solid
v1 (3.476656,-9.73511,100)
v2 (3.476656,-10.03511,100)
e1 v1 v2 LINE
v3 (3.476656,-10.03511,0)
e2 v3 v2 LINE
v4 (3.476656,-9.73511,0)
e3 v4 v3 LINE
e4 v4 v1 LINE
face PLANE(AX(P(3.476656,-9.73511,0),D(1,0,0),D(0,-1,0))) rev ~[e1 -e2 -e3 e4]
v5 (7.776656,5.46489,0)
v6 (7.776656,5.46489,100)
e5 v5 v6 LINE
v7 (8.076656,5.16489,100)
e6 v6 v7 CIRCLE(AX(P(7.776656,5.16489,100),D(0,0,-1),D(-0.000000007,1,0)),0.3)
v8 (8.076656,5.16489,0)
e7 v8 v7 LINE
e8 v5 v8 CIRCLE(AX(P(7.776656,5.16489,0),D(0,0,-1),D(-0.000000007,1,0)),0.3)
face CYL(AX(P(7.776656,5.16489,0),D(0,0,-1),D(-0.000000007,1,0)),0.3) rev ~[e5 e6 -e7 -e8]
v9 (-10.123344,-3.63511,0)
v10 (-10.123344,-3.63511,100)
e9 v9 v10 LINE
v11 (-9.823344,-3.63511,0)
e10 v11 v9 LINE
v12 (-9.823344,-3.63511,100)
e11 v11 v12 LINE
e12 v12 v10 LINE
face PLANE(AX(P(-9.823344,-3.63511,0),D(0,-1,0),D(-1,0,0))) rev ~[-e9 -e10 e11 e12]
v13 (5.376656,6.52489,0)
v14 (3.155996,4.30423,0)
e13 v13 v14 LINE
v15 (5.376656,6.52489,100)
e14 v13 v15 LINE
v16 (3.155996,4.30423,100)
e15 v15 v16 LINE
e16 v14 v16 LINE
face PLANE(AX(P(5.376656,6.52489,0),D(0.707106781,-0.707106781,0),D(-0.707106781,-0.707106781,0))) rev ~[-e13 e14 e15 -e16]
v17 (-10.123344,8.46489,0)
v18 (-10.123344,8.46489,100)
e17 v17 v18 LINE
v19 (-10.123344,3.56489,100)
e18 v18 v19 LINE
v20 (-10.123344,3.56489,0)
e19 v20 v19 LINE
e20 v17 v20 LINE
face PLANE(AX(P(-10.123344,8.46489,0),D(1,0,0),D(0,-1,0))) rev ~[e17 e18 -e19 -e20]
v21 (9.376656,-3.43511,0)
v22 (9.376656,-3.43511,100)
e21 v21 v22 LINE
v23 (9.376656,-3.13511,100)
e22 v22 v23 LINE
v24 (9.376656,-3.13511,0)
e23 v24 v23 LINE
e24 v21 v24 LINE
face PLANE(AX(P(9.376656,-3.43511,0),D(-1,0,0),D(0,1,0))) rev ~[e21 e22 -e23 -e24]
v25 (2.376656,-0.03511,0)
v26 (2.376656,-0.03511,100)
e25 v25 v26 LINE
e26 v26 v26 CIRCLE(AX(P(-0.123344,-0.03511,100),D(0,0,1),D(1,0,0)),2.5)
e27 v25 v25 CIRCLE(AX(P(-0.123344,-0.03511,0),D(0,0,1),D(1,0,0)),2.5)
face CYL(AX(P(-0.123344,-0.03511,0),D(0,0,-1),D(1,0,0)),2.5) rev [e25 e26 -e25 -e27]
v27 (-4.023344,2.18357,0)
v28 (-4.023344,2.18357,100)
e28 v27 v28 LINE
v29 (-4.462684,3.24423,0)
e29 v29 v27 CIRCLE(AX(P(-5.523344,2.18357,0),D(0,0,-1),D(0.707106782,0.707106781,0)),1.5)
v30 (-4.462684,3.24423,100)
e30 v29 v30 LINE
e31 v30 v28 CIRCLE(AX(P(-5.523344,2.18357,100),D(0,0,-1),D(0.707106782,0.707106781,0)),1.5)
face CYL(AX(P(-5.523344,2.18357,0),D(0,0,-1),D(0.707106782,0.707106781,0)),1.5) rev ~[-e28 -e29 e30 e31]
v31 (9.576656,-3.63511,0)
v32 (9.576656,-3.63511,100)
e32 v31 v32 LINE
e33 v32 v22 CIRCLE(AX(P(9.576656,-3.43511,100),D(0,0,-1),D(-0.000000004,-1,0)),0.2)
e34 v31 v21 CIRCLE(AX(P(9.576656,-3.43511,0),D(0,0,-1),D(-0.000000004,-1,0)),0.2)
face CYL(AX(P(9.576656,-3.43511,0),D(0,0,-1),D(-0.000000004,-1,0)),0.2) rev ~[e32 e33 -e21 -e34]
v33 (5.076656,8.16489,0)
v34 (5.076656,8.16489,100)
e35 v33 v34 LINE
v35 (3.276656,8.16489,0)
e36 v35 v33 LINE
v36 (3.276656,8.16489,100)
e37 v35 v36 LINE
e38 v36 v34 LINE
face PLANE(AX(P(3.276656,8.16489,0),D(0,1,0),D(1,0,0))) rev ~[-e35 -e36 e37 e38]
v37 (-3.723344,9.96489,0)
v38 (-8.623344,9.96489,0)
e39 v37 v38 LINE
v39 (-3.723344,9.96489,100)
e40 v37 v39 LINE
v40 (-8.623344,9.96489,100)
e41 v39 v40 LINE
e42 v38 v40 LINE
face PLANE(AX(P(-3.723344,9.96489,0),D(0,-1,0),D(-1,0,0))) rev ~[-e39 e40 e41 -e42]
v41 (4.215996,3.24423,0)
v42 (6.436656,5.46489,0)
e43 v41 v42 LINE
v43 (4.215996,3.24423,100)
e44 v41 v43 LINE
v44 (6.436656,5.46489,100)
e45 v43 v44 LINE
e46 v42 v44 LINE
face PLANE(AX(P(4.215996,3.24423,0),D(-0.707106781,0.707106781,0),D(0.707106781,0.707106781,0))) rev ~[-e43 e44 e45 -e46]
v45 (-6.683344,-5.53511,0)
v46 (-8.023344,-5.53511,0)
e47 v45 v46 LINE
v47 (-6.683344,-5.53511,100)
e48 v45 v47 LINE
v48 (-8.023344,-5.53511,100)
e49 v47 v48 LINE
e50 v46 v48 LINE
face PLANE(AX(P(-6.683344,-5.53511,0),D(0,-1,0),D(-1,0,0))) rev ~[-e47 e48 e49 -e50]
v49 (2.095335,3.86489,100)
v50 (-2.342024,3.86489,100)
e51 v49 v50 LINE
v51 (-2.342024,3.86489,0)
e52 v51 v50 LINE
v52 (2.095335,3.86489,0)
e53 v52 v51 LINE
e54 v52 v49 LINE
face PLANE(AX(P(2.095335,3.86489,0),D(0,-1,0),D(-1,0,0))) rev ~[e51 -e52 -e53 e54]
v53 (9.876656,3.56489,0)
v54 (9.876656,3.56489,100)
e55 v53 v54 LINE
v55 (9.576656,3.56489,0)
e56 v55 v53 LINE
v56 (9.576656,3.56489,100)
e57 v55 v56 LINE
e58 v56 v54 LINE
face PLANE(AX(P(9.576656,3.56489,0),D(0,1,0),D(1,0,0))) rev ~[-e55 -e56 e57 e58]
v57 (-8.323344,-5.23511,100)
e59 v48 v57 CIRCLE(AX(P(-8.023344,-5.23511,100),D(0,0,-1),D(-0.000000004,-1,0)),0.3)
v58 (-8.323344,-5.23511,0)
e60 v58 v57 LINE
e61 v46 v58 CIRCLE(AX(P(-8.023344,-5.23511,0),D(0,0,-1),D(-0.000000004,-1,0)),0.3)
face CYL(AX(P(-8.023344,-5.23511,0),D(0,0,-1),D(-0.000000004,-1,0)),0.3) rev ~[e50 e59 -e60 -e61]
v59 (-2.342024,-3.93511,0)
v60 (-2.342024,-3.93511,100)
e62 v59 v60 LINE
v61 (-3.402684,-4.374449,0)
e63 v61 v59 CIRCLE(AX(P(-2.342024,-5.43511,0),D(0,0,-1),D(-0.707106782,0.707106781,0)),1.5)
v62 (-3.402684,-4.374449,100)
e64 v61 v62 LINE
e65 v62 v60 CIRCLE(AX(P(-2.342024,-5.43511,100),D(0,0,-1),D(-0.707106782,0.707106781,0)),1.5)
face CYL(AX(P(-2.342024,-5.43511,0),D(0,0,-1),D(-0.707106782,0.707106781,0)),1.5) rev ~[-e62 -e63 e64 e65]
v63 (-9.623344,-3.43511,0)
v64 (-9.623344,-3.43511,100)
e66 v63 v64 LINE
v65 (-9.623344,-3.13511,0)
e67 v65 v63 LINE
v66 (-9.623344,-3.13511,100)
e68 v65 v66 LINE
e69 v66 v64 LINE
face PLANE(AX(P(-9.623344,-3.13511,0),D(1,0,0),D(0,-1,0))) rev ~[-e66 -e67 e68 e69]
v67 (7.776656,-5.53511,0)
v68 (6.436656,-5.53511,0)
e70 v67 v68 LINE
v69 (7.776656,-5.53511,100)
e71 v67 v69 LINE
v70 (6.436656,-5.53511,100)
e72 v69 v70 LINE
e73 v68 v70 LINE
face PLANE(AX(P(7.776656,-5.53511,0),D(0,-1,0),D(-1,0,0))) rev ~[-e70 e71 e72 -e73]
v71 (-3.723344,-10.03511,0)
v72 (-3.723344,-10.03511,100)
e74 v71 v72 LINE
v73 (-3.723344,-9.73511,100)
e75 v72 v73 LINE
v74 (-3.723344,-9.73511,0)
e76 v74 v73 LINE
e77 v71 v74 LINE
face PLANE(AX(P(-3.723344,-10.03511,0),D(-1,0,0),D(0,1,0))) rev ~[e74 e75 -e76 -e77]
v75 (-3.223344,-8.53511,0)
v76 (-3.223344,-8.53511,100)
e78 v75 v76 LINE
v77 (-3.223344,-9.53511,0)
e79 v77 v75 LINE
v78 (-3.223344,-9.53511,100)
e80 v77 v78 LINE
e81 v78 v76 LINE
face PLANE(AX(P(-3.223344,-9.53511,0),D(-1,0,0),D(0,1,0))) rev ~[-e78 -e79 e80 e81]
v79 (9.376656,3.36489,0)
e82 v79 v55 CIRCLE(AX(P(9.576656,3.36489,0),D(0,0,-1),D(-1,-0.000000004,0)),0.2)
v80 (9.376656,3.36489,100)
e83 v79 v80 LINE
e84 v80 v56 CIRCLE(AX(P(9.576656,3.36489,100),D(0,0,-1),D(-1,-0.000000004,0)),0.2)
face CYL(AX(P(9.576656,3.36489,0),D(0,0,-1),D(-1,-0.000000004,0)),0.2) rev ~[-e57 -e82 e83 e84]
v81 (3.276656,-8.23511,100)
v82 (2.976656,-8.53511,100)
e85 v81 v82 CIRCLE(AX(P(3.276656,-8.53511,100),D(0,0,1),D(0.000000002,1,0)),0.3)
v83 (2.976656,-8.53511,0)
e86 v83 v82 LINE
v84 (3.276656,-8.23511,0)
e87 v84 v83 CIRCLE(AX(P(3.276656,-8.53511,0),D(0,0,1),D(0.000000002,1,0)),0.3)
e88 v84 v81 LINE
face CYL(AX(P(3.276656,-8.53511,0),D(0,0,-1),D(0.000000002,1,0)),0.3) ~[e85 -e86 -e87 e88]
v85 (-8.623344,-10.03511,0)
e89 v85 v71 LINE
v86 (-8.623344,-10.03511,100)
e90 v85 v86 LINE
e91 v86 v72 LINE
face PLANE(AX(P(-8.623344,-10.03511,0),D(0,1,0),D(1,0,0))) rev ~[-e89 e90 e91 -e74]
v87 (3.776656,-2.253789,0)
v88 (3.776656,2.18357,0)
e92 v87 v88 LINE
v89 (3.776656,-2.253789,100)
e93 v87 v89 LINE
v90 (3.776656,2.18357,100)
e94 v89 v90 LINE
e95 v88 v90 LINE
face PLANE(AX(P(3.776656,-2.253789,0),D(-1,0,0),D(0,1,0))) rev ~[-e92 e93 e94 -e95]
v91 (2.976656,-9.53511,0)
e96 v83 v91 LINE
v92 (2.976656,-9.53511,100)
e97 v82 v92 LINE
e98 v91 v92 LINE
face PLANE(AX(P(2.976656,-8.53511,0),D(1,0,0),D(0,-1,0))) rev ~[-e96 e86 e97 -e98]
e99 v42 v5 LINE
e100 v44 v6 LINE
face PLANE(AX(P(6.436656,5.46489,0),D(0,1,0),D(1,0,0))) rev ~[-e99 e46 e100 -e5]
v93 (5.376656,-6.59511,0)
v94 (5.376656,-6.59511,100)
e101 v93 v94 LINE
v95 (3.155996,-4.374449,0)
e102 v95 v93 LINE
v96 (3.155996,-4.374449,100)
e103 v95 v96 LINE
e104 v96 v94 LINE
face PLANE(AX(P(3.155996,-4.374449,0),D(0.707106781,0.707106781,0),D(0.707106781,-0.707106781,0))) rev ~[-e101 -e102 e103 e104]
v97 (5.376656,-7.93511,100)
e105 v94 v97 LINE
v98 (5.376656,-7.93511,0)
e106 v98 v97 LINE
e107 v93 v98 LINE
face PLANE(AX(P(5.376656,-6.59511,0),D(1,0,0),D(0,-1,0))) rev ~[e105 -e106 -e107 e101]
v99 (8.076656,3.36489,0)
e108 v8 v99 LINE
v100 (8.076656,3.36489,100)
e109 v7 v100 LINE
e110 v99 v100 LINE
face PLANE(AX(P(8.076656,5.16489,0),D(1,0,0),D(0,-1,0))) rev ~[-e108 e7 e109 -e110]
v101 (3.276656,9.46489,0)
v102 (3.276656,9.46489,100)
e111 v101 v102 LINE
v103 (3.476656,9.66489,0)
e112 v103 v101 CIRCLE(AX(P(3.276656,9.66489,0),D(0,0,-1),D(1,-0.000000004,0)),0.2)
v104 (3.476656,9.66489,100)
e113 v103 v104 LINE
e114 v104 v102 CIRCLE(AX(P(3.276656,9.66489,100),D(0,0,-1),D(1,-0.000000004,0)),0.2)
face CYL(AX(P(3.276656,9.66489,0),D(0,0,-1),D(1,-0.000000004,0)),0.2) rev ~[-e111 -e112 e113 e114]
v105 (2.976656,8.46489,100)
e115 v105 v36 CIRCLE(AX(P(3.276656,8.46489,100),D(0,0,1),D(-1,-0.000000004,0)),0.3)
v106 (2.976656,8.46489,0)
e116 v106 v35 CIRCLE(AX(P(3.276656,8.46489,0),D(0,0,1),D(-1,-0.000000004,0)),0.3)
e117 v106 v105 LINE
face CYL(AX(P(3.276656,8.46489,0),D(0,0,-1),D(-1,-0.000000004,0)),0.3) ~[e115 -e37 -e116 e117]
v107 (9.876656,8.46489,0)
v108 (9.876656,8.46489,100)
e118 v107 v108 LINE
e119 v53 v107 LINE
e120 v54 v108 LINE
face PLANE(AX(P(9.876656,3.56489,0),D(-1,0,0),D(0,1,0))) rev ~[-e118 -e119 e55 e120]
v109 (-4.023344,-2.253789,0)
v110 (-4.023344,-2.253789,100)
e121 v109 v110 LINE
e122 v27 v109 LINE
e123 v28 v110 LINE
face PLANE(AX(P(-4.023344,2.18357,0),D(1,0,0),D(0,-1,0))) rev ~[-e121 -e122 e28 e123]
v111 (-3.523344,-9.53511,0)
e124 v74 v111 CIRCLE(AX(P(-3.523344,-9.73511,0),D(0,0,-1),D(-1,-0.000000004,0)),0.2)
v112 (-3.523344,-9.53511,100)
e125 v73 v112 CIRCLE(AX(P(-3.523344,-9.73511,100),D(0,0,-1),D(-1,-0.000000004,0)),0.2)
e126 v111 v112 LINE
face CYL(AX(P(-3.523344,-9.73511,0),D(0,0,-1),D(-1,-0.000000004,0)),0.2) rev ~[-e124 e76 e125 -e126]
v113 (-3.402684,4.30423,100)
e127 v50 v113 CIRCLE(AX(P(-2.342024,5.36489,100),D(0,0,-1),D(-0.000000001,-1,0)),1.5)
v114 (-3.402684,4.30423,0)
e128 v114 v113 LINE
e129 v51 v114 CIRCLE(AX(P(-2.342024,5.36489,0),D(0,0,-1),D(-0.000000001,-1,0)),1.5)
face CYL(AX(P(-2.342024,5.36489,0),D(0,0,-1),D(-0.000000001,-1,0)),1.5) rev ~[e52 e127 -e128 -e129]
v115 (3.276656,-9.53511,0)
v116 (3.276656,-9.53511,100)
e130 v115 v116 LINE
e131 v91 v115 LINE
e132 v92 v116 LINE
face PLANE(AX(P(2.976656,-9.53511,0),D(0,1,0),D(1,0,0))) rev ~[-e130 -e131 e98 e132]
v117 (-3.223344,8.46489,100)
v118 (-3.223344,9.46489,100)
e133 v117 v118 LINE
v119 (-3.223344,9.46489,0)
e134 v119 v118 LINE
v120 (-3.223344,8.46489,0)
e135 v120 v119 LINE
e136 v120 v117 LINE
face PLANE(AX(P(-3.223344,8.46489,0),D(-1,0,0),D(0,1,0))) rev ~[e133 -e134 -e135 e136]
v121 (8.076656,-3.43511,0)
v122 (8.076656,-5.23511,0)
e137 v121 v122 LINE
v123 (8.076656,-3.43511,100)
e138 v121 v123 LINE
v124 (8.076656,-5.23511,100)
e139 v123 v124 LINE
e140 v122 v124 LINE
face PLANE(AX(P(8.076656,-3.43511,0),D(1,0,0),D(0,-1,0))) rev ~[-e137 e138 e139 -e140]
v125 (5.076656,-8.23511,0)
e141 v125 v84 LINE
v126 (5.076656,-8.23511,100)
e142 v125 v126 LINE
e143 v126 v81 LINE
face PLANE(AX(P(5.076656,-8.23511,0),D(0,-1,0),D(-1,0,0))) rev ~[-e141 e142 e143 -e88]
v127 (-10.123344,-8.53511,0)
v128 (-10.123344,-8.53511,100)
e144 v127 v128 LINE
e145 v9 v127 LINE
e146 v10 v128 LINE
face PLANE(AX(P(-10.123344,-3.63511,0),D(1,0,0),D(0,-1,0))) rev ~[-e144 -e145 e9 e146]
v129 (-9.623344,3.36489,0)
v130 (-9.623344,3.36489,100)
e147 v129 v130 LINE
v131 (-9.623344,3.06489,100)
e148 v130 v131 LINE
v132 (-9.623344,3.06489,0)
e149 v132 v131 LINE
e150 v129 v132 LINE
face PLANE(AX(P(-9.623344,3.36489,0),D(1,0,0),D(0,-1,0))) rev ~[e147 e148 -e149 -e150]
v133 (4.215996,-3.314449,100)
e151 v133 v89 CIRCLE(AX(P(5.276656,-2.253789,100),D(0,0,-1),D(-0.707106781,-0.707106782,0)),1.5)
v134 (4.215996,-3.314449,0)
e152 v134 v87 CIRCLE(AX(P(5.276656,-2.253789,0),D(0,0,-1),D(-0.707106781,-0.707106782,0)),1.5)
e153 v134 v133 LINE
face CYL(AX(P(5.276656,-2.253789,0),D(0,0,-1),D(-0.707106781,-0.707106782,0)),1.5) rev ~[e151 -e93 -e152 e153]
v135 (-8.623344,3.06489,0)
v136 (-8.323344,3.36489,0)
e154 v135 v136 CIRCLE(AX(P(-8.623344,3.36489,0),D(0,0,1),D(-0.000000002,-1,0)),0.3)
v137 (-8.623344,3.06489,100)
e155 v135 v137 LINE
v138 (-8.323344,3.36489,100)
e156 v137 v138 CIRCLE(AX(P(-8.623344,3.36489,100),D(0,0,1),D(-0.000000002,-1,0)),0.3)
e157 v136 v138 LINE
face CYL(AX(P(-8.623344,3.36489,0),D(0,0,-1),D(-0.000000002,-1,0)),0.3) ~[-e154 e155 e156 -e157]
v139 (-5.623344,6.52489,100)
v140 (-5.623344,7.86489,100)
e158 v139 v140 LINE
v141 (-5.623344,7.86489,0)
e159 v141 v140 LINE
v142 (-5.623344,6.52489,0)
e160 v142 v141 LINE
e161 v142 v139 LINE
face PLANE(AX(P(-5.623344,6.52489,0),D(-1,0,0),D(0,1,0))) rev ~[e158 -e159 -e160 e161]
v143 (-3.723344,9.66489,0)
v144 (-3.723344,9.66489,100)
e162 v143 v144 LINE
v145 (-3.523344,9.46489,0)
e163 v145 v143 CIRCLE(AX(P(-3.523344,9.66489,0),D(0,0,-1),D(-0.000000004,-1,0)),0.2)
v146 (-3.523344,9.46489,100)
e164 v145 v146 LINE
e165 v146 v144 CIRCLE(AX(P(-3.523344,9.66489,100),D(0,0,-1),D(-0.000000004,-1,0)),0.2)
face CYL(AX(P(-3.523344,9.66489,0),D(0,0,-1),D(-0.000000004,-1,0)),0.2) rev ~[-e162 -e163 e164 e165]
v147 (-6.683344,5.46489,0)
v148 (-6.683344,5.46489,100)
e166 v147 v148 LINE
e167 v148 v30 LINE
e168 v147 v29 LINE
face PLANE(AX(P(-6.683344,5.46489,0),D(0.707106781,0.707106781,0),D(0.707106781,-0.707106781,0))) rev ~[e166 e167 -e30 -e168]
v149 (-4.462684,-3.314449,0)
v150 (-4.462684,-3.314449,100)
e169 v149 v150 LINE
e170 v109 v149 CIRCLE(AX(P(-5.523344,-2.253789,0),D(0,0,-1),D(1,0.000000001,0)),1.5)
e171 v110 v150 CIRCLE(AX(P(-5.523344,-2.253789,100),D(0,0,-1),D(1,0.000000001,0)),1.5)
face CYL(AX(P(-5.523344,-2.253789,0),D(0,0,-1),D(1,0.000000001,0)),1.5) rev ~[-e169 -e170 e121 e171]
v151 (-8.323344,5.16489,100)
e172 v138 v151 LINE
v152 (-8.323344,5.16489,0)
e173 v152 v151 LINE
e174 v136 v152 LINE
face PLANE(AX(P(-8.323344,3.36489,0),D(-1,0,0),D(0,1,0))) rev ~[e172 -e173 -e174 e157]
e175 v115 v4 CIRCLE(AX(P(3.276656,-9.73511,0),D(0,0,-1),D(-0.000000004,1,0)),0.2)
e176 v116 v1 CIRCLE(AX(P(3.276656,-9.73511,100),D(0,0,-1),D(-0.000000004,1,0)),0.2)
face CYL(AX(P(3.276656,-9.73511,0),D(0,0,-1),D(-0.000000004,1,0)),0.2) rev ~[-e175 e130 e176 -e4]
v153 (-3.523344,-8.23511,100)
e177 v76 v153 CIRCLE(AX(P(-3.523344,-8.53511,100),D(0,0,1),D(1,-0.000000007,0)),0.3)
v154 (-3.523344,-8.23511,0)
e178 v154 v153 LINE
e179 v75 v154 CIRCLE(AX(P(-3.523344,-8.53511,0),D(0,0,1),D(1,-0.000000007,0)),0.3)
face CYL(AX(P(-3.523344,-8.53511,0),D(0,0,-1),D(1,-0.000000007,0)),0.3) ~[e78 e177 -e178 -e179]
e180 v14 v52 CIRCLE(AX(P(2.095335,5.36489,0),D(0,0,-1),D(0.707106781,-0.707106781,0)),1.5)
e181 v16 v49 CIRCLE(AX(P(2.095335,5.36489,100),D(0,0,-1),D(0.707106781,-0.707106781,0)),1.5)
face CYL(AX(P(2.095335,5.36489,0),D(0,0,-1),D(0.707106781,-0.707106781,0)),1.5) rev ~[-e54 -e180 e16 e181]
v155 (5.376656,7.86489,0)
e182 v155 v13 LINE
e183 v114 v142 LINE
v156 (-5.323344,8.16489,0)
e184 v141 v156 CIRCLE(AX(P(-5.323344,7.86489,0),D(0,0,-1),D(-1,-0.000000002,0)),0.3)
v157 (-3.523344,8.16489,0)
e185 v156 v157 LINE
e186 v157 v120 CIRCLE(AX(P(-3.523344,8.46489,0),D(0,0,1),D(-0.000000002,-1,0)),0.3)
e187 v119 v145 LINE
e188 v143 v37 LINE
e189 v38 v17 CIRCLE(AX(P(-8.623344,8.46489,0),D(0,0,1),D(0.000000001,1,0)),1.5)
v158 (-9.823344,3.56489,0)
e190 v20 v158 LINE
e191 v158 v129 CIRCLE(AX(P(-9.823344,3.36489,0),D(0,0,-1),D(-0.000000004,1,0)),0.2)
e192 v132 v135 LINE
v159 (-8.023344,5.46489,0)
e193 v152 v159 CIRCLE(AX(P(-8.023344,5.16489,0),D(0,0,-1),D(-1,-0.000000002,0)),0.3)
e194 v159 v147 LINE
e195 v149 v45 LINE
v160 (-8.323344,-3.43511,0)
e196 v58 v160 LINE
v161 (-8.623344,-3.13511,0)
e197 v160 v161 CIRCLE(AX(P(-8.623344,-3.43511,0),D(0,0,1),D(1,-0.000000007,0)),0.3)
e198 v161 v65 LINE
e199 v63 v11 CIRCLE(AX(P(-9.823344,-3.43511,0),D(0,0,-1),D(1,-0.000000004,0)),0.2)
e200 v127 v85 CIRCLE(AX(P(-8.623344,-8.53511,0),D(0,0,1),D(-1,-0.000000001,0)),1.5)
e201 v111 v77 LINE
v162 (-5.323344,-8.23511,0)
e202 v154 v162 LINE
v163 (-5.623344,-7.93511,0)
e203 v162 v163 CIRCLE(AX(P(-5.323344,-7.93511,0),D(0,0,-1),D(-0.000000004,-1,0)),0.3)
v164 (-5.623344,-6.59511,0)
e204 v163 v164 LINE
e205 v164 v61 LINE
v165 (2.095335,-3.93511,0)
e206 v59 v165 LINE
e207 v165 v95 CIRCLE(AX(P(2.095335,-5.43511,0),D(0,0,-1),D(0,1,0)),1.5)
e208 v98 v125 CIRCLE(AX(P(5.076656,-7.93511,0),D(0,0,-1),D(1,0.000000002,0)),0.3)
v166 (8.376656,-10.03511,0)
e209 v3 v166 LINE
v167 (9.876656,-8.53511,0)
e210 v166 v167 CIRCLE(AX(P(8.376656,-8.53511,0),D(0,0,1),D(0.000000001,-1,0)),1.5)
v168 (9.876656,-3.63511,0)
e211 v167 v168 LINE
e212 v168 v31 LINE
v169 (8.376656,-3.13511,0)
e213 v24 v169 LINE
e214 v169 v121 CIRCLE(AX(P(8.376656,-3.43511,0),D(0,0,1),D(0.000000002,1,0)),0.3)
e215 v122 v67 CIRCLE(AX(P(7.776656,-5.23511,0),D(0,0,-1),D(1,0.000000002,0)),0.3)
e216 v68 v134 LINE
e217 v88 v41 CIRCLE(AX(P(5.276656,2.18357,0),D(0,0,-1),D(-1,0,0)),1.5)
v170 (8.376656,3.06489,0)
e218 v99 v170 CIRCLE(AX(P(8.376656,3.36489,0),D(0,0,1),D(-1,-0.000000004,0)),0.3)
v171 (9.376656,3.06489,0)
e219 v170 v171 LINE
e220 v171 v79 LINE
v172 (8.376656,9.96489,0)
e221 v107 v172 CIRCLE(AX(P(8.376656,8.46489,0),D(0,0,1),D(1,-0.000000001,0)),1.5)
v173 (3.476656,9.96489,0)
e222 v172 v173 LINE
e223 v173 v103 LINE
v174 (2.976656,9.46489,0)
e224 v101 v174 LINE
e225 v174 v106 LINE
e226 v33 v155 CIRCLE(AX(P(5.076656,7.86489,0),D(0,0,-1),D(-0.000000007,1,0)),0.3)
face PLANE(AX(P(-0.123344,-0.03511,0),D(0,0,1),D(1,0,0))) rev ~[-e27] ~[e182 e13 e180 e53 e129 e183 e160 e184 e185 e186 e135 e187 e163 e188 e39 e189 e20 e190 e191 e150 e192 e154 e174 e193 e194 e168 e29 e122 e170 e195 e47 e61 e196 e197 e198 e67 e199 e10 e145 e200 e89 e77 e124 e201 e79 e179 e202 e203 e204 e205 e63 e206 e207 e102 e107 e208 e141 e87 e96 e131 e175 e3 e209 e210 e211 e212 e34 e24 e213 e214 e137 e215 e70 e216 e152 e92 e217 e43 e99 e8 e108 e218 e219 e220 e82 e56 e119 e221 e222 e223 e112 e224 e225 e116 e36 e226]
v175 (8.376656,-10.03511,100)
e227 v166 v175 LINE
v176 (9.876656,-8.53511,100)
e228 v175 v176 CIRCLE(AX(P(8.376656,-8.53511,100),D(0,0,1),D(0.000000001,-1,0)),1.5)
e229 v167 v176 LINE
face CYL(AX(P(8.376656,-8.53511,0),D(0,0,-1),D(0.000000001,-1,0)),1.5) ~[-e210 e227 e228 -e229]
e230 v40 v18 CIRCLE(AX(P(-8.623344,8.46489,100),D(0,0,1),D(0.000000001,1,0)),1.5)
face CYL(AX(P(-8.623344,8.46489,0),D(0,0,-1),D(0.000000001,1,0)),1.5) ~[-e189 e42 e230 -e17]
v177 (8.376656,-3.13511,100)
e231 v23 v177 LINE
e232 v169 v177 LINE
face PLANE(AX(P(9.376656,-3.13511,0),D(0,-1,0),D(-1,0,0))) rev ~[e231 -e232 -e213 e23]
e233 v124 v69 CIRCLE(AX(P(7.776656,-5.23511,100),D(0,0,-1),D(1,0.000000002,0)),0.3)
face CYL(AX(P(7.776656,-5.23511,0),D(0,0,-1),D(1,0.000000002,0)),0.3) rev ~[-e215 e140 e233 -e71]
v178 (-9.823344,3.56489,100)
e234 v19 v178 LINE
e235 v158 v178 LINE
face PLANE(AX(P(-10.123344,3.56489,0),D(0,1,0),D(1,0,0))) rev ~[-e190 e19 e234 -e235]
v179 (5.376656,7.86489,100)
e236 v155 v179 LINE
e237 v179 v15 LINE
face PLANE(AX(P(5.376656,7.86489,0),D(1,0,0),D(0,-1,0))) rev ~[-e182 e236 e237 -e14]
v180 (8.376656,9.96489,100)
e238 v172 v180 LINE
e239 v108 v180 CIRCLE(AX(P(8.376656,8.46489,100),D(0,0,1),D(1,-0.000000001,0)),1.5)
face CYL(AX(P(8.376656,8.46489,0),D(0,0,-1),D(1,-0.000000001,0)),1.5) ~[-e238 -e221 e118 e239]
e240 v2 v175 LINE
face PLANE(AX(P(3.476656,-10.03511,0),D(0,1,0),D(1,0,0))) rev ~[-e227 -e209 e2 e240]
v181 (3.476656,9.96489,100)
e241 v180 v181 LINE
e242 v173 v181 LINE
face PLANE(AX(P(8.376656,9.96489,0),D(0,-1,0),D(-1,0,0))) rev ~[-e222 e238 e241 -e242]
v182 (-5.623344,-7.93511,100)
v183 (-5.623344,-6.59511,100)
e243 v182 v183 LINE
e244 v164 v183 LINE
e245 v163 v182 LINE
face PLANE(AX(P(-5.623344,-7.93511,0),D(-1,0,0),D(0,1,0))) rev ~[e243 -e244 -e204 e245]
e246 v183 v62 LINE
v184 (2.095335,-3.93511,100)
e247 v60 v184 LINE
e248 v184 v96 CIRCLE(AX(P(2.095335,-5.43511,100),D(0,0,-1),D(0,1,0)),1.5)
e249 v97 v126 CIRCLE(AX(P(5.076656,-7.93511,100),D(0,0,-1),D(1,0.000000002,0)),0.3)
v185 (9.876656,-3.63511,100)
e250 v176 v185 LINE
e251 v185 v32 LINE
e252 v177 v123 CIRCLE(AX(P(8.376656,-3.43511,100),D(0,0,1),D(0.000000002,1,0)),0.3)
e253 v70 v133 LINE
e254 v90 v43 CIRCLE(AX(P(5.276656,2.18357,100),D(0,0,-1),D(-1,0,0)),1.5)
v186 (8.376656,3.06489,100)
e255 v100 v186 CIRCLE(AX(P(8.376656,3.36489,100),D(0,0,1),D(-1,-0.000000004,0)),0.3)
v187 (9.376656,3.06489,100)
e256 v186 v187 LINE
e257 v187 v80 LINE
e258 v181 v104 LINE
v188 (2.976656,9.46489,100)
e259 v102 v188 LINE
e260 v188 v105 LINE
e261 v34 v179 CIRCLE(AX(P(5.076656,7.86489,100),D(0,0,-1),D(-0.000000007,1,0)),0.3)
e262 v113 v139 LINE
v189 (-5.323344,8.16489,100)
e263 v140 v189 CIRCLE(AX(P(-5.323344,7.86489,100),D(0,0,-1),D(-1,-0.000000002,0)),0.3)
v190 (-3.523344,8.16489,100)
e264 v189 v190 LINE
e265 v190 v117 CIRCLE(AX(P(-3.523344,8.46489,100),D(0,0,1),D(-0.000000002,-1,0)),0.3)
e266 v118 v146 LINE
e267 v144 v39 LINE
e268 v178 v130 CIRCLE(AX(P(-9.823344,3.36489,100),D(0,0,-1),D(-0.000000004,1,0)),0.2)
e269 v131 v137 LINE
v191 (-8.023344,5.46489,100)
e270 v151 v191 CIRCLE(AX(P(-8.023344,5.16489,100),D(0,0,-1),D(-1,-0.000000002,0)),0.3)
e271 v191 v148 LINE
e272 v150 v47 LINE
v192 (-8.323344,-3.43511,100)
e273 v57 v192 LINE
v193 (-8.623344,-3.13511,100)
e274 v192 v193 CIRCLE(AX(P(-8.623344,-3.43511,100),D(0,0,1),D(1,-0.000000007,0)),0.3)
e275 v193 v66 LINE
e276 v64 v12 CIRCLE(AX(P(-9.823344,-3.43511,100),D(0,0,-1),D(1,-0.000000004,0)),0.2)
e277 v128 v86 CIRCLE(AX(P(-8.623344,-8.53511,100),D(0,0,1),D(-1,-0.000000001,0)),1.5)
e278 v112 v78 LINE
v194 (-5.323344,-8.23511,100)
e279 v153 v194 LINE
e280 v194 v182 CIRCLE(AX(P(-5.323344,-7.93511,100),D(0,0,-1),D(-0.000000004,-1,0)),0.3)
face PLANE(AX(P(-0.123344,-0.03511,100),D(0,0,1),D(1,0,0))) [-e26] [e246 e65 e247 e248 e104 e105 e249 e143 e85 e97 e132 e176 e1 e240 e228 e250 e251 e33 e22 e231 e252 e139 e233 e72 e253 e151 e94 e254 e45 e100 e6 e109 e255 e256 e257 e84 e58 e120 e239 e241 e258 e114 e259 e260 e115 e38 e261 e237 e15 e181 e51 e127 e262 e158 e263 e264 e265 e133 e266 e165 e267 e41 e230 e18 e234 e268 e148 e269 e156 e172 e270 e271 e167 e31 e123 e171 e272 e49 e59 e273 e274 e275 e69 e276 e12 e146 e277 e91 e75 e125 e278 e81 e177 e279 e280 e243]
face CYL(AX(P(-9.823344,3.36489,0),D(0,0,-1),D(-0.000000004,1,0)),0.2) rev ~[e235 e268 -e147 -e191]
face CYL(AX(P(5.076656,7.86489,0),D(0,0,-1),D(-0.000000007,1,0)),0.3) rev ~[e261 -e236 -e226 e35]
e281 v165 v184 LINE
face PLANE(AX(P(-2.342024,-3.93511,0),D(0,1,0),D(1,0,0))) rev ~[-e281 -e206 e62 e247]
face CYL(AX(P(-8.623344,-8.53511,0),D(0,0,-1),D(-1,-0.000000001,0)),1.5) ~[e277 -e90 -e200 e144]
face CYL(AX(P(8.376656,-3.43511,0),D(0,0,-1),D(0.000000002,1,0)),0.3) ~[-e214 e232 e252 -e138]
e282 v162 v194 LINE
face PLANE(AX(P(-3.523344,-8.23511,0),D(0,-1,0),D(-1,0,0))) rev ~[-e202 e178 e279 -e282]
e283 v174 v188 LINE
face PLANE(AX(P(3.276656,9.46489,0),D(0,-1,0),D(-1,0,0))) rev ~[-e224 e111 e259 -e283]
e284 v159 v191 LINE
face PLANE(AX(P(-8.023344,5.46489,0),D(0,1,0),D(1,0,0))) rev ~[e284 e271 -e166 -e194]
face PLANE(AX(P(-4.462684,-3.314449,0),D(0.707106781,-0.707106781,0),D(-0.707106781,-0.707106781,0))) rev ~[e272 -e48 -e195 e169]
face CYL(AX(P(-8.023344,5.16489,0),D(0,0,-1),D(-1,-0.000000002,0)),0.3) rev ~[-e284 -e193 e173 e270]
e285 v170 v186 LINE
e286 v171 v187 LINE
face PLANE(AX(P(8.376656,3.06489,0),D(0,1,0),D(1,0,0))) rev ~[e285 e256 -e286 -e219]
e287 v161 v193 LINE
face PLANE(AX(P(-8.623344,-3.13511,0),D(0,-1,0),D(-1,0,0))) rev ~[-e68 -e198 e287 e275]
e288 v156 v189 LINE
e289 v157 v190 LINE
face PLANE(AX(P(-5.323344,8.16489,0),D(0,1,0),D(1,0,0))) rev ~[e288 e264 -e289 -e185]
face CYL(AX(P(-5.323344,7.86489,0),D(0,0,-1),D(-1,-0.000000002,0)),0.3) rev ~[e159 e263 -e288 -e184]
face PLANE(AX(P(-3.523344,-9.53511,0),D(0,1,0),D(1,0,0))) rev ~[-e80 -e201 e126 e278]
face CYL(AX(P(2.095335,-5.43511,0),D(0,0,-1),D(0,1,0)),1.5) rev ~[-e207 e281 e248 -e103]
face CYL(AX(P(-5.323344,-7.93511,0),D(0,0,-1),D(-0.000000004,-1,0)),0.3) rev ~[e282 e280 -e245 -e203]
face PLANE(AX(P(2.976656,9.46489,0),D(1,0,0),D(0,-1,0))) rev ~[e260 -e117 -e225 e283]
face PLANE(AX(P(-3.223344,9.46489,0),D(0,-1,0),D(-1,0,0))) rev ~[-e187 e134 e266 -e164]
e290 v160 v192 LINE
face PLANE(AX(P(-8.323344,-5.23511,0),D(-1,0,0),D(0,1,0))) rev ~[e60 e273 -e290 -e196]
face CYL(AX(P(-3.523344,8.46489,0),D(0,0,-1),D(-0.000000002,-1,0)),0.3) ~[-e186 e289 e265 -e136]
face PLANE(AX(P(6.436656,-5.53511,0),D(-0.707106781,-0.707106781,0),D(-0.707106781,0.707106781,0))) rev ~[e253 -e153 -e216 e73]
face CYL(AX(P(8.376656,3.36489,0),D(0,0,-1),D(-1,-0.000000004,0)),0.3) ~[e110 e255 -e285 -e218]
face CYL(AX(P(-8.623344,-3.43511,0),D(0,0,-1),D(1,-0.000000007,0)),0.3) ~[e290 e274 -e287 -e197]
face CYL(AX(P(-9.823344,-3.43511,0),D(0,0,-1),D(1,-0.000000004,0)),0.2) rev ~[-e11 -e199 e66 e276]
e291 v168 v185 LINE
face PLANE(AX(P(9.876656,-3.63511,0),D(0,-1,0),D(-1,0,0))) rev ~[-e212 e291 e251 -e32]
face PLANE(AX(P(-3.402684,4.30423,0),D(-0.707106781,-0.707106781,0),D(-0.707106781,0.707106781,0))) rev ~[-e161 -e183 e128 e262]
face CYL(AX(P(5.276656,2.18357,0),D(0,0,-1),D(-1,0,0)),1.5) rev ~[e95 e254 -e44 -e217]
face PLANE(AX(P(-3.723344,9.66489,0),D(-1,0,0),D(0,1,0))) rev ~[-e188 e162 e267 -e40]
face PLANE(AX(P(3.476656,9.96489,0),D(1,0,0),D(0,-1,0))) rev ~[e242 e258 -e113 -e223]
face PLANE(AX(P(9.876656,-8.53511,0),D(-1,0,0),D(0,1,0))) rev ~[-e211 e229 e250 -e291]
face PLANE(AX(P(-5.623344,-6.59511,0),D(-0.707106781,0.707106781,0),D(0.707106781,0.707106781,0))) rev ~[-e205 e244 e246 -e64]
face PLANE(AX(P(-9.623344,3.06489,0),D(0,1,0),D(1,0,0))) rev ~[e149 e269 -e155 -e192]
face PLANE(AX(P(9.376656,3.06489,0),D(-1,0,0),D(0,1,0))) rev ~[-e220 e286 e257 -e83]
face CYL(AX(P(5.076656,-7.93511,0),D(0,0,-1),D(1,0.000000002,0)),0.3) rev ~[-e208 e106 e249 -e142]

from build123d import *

# Parameters (mm, degrees)
SKETCH_1_R      = 2.5
EXTRUDE_1_DEPTH = 100


with BuildPart() as part:
    # 草图1 → 凸台-拉伸1 (new body)
    with BuildSketch(Plane.XY):
        with BuildLine():
            Line((4.215995631, 3.244230202), (6.436655803, 5.464890373))
            Line((6.436655803, 5.464890373), (7.776655803, 5.464890373))
            ThreePointArc((7.776655803, 5.464890373), (7.988787838, 5.377022408), (8.076655803, 5.164890373))
            Line((8.076655803, 5.164890373), (8.076655803, 3.364890373))
            ThreePointArc((8.076655803, 3.364890373), (8.164523769, 3.152758339), (8.376655803, 3.064890373))
            Line((8.376655803, 3.064890373), (9.376655803, 3.064890373))
            Line((9.376655803, 3.064890373), (9.376655803, 3.364890373))
            ThreePointArc((9.376655803, 3.364890373), (9.435234447, 3.50631173), (9.576655803, 3.564890373))
            Line((9.576655803, 3.564890373), (9.876655803, 3.564890373))
            Line((9.876655803, 3.564890373), (9.876655803, 8.464890373))
            ThreePointArc((9.876655803, 8.464890373), (9.437315975, 9.525550545), (8.376655803, 9.964890373))
            Line((8.376655803, 9.964890373), (3.476655803, 9.964890373))
            Line((3.476655803, 9.964890373), (3.476655803, 9.664890373))
            ThreePointArc((3.476655803, 9.664890373), (3.418077159, 9.523469017), (3.276655803, 9.464890373))
            Line((3.276655803, 9.464890373), (2.976655803, 9.464890373))
            Line((2.976655803, 9.464890373), (2.976655803, 8.464890373))
            ThreePointArc((2.976655803, 8.464890373), (3.064523769, 8.252758339), (3.276655803, 8.164890373))
            Line((3.276655803, 8.164890373), (5.076655803, 8.164890373))
            ThreePointArc((5.076655803, 8.164890373), (5.288787838, 8.077022408), (5.376655803, 7.864890373))
            Line((5.376655803, 7.864890373), (5.376655803, 6.524890373))
            Line((5.376655803, 6.524890373), (3.155995631, 4.304230202))
            ThreePointArc((3.155995631, 4.304230202), (2.669360608, 3.979071075), (2.09533546, 3.864890373))
            Line((2.09533546, 3.864890373), (-2.342023853, 3.864890373))
            ThreePointArc((-2.342023853, 3.864890373), (-2.916049002, 3.979071075), (-3.402684025, 4.304230202))
            Line((-3.402684025, 4.304230202), (-5.623344197, 6.524890373))
            Line((-5.623344197, 6.524890373), (-5.623344197, 7.864890373))
            ThreePointArc((-5.623344197, 7.864890373), (-5.535476231, 8.077022408), (-5.323344197, 8.164890373))
            Line((-5.323344197, 8.164890373), (-3.523344197, 8.164890373))
            ThreePointArc((-3.523344197, 8.164890373), (-3.311212162, 8.252758339), (-3.223344197, 8.464890373))
            Line((-3.223344197, 8.464890373), (-3.223344197, 9.464890373))
            Line((-3.223344197, 9.464890373), (-3.523344197, 9.464890373))
            ThreePointArc((-3.523344197, 9.464890373), (-3.664765553, 9.523469017), (-3.723344197, 9.664890373))
            Line((-3.723344197, 9.664890373), (-3.723344197, 9.964890373))
            Line((-3.723344197, 9.964890373), (-8.623344197, 9.964890373))
            ThreePointArc((-8.623344197, 9.964890373), (-9.684004369, 9.525550545), (-10.123344197, 8.464890373))
            Line((-10.123344197, 8.464890373), (-10.123344197, 3.564890373))
            Line((-10.123344197, 3.564890373), (-9.823344197, 3.564890373))
            ThreePointArc((-9.823344197, 3.564890373), (-9.681922841, 3.50631173), (-9.623344197, 3.364890373))
            Line((-9.623344197, 3.364890373), (-9.623344197, 3.064890373))
            Line((-9.623344197, 3.064890373), (-8.623344197, 3.064890373))
            ThreePointArc((-8.623344197, 3.064890373), (-8.411212162, 3.152758339), (-8.323344197, 3.364890373))
            Line((-8.323344197, 3.364890373), (-8.323344197, 5.164890373))
            ThreePointArc((-8.323344197, 5.164890373), (-8.235476231, 5.377022408), (-8.023344197, 5.464890373))
            Line((-8.023344197, 5.464890373), (-6.683344197, 5.464890373))
            Line((-6.683344197, 5.464890373), (-4.462684025, 3.244230202))
            ThreePointArc((-4.462684025, 3.244230202), (-4.137524898, 2.757595178), (-4.023344197, 2.18357003))
            Line((-4.023344197, 2.18357003), (-4.023344197, -2.253789283))
            ThreePointArc((-4.023344197, -2.253789283), (-4.137524898, -2.827814432), (-4.462684025, -3.314449455))
            Line((-4.462684025, -3.314449455), (-6.683344197, -5.535109627))
            Line((-6.683344197, -5.535109627), (-8.023344197, -5.535109627))
            ThreePointArc((-8.023344197, -5.535109627), (-8.235476231, -5.447241661), (-8.323344197, -5.235109627))
            Line((-8.323344197, -5.235109627), (-8.323344197, -3.435109627))
            ThreePointArc((-8.323344197, -3.435109627), (-8.411212162, -3.222977592), (-8.623344197, -3.135109627))
            Line((-8.623344197, -3.135109627), (-9.623344197, -3.135109627))
            Line((-9.623344197, -3.135109627), (-9.623344197, -3.435109627))
            ThreePointArc((-9.623344197, -3.435109627), (-9.681922841, -3.576530983), (-9.823344197, -3.635109627))
            Line((-9.823344197, -3.635109627), (-10.123344197, -3.635109627))
            Line((-10.123344197, -3.635109627), (-10.123344197, -8.535109627))
            ThreePointArc((-10.123344197, -8.535109627), (-9.684004369, -9.595769798), (-8.623344197, -10.035109627))
            Line((-8.623344197, -10.035109627), (-3.723344197, -10.035109627))
            Line((-3.723344197, -10.035109627), (-3.723344197, -9.735109627))
            ThreePointArc((-3.723344197, -9.735109627), (-3.664765553, -9.59368827), (-3.523344197, -9.535109627))
            Line((-3.523344197, -9.535109627), (-3.223344197, -9.535109627))
            Line((-3.223344197, -9.535109627), (-3.223344197, -8.535109627))
            ThreePointArc((-3.223344197, -8.535109627), (-3.311212162, -8.322977592), (-3.523344197, -8.235109627))
            Line((-3.523344197, -8.235109627), (-5.323344197, -8.235109627))
            ThreePointArc((-5.323344197, -8.235109627), (-5.535476231, -8.147241661), (-5.623344197, -7.935109627))
            Line((-5.623344197, -7.935109627), (-5.623344197, -6.595109627))
            Line((-5.623344197, -6.595109627), (-3.402684025, -4.374449455))
            ThreePointArc((-3.402684025, -4.374449455), (-2.916049002, -4.049290328), (-2.342023853, -3.935109627))
            Line((-2.342023853, -3.935109627), (2.09533546, -3.935109627))
            ThreePointArc((2.09533546, -3.935109627), (2.669360608, -4.049290328), (3.155995631, -4.374449455))
            Line((3.155995631, -4.374449455), (5.376655803, -6.595109627))
            Line((5.376655803, -6.595109627), (5.376655803, -7.935109627))
            ThreePointArc((5.376655803, -7.935109627), (5.288787838, -8.147241661), (5.076655803, -8.235109627))
            Line((5.076655803, -8.235109627), (3.276655803, -8.235109627))
            ThreePointArc((3.276655803, -8.235109627), (3.064523769, -8.322977592), (2.976655803, -8.535109627))
            Line((2.976655803, -8.535109627), (2.976655803, -9.535109627))
            Line((2.976655803, -9.535109627), (3.276655803, -9.535109627))
            ThreePointArc((3.276655803, -9.535109627), (3.418077159, -9.59368827), (3.476655803, -9.735109627))
            Line((3.476655803, -9.735109627), (3.476655803, -10.035109627))
            Line((3.476655803, -10.035109627), (8.376655803, -10.035109627))
            ThreePointArc((8.376655803, -10.035109627), (9.437315975, -9.595769798), (9.876655803, -8.535109627))
            Line((9.876655803, -8.535109627), (9.876655803, -3.635109627))
            Line((9.876655803, -3.635109627), (9.576655803, -3.635109627))
            ThreePointArc((9.576655803, -3.635109627), (9.435234447, -3.576530983), (9.376655803, -3.435109627))
            Line((9.376655803, -3.435109627), (9.376655803, -3.135109627))
            Line((9.376655803, -3.135109627), (8.376655803, -3.135109627))
            ThreePointArc((8.376655803, -3.135109627), (8.164523769, -3.222977592), (8.076655803, -3.435109627))
            Line((8.076655803, -3.435109627), (8.076655803, -5.235109627))
            ThreePointArc((8.076655803, -5.235109627), (7.988787838, -5.447241661), (7.776655803, -5.535109627))
            Line((7.776655803, -5.535109627), (6.436655803, -5.535109627))
            Line((6.436655803, -5.535109627), (4.215995631, -3.314449455))
            ThreePointArc((4.215995631, -3.314449455), (3.890836504, -2.827814432), (3.776655803, -2.253789283))
            Line((3.776655803, -2.253789283), (3.776655803, 2.18357003))
            ThreePointArc((3.776655803, 2.18357003), (3.890836504, 2.757595178), (4.215995631, 3.244230202))
        make_face()
        with Locations((-0.123344197, -0.035109627)):
            Circle(SKETCH_1_R, mode=Mode.SUBTRACT)
    extrude(amount=EXTRUDE_1_DEPTH)


solid = part.part
